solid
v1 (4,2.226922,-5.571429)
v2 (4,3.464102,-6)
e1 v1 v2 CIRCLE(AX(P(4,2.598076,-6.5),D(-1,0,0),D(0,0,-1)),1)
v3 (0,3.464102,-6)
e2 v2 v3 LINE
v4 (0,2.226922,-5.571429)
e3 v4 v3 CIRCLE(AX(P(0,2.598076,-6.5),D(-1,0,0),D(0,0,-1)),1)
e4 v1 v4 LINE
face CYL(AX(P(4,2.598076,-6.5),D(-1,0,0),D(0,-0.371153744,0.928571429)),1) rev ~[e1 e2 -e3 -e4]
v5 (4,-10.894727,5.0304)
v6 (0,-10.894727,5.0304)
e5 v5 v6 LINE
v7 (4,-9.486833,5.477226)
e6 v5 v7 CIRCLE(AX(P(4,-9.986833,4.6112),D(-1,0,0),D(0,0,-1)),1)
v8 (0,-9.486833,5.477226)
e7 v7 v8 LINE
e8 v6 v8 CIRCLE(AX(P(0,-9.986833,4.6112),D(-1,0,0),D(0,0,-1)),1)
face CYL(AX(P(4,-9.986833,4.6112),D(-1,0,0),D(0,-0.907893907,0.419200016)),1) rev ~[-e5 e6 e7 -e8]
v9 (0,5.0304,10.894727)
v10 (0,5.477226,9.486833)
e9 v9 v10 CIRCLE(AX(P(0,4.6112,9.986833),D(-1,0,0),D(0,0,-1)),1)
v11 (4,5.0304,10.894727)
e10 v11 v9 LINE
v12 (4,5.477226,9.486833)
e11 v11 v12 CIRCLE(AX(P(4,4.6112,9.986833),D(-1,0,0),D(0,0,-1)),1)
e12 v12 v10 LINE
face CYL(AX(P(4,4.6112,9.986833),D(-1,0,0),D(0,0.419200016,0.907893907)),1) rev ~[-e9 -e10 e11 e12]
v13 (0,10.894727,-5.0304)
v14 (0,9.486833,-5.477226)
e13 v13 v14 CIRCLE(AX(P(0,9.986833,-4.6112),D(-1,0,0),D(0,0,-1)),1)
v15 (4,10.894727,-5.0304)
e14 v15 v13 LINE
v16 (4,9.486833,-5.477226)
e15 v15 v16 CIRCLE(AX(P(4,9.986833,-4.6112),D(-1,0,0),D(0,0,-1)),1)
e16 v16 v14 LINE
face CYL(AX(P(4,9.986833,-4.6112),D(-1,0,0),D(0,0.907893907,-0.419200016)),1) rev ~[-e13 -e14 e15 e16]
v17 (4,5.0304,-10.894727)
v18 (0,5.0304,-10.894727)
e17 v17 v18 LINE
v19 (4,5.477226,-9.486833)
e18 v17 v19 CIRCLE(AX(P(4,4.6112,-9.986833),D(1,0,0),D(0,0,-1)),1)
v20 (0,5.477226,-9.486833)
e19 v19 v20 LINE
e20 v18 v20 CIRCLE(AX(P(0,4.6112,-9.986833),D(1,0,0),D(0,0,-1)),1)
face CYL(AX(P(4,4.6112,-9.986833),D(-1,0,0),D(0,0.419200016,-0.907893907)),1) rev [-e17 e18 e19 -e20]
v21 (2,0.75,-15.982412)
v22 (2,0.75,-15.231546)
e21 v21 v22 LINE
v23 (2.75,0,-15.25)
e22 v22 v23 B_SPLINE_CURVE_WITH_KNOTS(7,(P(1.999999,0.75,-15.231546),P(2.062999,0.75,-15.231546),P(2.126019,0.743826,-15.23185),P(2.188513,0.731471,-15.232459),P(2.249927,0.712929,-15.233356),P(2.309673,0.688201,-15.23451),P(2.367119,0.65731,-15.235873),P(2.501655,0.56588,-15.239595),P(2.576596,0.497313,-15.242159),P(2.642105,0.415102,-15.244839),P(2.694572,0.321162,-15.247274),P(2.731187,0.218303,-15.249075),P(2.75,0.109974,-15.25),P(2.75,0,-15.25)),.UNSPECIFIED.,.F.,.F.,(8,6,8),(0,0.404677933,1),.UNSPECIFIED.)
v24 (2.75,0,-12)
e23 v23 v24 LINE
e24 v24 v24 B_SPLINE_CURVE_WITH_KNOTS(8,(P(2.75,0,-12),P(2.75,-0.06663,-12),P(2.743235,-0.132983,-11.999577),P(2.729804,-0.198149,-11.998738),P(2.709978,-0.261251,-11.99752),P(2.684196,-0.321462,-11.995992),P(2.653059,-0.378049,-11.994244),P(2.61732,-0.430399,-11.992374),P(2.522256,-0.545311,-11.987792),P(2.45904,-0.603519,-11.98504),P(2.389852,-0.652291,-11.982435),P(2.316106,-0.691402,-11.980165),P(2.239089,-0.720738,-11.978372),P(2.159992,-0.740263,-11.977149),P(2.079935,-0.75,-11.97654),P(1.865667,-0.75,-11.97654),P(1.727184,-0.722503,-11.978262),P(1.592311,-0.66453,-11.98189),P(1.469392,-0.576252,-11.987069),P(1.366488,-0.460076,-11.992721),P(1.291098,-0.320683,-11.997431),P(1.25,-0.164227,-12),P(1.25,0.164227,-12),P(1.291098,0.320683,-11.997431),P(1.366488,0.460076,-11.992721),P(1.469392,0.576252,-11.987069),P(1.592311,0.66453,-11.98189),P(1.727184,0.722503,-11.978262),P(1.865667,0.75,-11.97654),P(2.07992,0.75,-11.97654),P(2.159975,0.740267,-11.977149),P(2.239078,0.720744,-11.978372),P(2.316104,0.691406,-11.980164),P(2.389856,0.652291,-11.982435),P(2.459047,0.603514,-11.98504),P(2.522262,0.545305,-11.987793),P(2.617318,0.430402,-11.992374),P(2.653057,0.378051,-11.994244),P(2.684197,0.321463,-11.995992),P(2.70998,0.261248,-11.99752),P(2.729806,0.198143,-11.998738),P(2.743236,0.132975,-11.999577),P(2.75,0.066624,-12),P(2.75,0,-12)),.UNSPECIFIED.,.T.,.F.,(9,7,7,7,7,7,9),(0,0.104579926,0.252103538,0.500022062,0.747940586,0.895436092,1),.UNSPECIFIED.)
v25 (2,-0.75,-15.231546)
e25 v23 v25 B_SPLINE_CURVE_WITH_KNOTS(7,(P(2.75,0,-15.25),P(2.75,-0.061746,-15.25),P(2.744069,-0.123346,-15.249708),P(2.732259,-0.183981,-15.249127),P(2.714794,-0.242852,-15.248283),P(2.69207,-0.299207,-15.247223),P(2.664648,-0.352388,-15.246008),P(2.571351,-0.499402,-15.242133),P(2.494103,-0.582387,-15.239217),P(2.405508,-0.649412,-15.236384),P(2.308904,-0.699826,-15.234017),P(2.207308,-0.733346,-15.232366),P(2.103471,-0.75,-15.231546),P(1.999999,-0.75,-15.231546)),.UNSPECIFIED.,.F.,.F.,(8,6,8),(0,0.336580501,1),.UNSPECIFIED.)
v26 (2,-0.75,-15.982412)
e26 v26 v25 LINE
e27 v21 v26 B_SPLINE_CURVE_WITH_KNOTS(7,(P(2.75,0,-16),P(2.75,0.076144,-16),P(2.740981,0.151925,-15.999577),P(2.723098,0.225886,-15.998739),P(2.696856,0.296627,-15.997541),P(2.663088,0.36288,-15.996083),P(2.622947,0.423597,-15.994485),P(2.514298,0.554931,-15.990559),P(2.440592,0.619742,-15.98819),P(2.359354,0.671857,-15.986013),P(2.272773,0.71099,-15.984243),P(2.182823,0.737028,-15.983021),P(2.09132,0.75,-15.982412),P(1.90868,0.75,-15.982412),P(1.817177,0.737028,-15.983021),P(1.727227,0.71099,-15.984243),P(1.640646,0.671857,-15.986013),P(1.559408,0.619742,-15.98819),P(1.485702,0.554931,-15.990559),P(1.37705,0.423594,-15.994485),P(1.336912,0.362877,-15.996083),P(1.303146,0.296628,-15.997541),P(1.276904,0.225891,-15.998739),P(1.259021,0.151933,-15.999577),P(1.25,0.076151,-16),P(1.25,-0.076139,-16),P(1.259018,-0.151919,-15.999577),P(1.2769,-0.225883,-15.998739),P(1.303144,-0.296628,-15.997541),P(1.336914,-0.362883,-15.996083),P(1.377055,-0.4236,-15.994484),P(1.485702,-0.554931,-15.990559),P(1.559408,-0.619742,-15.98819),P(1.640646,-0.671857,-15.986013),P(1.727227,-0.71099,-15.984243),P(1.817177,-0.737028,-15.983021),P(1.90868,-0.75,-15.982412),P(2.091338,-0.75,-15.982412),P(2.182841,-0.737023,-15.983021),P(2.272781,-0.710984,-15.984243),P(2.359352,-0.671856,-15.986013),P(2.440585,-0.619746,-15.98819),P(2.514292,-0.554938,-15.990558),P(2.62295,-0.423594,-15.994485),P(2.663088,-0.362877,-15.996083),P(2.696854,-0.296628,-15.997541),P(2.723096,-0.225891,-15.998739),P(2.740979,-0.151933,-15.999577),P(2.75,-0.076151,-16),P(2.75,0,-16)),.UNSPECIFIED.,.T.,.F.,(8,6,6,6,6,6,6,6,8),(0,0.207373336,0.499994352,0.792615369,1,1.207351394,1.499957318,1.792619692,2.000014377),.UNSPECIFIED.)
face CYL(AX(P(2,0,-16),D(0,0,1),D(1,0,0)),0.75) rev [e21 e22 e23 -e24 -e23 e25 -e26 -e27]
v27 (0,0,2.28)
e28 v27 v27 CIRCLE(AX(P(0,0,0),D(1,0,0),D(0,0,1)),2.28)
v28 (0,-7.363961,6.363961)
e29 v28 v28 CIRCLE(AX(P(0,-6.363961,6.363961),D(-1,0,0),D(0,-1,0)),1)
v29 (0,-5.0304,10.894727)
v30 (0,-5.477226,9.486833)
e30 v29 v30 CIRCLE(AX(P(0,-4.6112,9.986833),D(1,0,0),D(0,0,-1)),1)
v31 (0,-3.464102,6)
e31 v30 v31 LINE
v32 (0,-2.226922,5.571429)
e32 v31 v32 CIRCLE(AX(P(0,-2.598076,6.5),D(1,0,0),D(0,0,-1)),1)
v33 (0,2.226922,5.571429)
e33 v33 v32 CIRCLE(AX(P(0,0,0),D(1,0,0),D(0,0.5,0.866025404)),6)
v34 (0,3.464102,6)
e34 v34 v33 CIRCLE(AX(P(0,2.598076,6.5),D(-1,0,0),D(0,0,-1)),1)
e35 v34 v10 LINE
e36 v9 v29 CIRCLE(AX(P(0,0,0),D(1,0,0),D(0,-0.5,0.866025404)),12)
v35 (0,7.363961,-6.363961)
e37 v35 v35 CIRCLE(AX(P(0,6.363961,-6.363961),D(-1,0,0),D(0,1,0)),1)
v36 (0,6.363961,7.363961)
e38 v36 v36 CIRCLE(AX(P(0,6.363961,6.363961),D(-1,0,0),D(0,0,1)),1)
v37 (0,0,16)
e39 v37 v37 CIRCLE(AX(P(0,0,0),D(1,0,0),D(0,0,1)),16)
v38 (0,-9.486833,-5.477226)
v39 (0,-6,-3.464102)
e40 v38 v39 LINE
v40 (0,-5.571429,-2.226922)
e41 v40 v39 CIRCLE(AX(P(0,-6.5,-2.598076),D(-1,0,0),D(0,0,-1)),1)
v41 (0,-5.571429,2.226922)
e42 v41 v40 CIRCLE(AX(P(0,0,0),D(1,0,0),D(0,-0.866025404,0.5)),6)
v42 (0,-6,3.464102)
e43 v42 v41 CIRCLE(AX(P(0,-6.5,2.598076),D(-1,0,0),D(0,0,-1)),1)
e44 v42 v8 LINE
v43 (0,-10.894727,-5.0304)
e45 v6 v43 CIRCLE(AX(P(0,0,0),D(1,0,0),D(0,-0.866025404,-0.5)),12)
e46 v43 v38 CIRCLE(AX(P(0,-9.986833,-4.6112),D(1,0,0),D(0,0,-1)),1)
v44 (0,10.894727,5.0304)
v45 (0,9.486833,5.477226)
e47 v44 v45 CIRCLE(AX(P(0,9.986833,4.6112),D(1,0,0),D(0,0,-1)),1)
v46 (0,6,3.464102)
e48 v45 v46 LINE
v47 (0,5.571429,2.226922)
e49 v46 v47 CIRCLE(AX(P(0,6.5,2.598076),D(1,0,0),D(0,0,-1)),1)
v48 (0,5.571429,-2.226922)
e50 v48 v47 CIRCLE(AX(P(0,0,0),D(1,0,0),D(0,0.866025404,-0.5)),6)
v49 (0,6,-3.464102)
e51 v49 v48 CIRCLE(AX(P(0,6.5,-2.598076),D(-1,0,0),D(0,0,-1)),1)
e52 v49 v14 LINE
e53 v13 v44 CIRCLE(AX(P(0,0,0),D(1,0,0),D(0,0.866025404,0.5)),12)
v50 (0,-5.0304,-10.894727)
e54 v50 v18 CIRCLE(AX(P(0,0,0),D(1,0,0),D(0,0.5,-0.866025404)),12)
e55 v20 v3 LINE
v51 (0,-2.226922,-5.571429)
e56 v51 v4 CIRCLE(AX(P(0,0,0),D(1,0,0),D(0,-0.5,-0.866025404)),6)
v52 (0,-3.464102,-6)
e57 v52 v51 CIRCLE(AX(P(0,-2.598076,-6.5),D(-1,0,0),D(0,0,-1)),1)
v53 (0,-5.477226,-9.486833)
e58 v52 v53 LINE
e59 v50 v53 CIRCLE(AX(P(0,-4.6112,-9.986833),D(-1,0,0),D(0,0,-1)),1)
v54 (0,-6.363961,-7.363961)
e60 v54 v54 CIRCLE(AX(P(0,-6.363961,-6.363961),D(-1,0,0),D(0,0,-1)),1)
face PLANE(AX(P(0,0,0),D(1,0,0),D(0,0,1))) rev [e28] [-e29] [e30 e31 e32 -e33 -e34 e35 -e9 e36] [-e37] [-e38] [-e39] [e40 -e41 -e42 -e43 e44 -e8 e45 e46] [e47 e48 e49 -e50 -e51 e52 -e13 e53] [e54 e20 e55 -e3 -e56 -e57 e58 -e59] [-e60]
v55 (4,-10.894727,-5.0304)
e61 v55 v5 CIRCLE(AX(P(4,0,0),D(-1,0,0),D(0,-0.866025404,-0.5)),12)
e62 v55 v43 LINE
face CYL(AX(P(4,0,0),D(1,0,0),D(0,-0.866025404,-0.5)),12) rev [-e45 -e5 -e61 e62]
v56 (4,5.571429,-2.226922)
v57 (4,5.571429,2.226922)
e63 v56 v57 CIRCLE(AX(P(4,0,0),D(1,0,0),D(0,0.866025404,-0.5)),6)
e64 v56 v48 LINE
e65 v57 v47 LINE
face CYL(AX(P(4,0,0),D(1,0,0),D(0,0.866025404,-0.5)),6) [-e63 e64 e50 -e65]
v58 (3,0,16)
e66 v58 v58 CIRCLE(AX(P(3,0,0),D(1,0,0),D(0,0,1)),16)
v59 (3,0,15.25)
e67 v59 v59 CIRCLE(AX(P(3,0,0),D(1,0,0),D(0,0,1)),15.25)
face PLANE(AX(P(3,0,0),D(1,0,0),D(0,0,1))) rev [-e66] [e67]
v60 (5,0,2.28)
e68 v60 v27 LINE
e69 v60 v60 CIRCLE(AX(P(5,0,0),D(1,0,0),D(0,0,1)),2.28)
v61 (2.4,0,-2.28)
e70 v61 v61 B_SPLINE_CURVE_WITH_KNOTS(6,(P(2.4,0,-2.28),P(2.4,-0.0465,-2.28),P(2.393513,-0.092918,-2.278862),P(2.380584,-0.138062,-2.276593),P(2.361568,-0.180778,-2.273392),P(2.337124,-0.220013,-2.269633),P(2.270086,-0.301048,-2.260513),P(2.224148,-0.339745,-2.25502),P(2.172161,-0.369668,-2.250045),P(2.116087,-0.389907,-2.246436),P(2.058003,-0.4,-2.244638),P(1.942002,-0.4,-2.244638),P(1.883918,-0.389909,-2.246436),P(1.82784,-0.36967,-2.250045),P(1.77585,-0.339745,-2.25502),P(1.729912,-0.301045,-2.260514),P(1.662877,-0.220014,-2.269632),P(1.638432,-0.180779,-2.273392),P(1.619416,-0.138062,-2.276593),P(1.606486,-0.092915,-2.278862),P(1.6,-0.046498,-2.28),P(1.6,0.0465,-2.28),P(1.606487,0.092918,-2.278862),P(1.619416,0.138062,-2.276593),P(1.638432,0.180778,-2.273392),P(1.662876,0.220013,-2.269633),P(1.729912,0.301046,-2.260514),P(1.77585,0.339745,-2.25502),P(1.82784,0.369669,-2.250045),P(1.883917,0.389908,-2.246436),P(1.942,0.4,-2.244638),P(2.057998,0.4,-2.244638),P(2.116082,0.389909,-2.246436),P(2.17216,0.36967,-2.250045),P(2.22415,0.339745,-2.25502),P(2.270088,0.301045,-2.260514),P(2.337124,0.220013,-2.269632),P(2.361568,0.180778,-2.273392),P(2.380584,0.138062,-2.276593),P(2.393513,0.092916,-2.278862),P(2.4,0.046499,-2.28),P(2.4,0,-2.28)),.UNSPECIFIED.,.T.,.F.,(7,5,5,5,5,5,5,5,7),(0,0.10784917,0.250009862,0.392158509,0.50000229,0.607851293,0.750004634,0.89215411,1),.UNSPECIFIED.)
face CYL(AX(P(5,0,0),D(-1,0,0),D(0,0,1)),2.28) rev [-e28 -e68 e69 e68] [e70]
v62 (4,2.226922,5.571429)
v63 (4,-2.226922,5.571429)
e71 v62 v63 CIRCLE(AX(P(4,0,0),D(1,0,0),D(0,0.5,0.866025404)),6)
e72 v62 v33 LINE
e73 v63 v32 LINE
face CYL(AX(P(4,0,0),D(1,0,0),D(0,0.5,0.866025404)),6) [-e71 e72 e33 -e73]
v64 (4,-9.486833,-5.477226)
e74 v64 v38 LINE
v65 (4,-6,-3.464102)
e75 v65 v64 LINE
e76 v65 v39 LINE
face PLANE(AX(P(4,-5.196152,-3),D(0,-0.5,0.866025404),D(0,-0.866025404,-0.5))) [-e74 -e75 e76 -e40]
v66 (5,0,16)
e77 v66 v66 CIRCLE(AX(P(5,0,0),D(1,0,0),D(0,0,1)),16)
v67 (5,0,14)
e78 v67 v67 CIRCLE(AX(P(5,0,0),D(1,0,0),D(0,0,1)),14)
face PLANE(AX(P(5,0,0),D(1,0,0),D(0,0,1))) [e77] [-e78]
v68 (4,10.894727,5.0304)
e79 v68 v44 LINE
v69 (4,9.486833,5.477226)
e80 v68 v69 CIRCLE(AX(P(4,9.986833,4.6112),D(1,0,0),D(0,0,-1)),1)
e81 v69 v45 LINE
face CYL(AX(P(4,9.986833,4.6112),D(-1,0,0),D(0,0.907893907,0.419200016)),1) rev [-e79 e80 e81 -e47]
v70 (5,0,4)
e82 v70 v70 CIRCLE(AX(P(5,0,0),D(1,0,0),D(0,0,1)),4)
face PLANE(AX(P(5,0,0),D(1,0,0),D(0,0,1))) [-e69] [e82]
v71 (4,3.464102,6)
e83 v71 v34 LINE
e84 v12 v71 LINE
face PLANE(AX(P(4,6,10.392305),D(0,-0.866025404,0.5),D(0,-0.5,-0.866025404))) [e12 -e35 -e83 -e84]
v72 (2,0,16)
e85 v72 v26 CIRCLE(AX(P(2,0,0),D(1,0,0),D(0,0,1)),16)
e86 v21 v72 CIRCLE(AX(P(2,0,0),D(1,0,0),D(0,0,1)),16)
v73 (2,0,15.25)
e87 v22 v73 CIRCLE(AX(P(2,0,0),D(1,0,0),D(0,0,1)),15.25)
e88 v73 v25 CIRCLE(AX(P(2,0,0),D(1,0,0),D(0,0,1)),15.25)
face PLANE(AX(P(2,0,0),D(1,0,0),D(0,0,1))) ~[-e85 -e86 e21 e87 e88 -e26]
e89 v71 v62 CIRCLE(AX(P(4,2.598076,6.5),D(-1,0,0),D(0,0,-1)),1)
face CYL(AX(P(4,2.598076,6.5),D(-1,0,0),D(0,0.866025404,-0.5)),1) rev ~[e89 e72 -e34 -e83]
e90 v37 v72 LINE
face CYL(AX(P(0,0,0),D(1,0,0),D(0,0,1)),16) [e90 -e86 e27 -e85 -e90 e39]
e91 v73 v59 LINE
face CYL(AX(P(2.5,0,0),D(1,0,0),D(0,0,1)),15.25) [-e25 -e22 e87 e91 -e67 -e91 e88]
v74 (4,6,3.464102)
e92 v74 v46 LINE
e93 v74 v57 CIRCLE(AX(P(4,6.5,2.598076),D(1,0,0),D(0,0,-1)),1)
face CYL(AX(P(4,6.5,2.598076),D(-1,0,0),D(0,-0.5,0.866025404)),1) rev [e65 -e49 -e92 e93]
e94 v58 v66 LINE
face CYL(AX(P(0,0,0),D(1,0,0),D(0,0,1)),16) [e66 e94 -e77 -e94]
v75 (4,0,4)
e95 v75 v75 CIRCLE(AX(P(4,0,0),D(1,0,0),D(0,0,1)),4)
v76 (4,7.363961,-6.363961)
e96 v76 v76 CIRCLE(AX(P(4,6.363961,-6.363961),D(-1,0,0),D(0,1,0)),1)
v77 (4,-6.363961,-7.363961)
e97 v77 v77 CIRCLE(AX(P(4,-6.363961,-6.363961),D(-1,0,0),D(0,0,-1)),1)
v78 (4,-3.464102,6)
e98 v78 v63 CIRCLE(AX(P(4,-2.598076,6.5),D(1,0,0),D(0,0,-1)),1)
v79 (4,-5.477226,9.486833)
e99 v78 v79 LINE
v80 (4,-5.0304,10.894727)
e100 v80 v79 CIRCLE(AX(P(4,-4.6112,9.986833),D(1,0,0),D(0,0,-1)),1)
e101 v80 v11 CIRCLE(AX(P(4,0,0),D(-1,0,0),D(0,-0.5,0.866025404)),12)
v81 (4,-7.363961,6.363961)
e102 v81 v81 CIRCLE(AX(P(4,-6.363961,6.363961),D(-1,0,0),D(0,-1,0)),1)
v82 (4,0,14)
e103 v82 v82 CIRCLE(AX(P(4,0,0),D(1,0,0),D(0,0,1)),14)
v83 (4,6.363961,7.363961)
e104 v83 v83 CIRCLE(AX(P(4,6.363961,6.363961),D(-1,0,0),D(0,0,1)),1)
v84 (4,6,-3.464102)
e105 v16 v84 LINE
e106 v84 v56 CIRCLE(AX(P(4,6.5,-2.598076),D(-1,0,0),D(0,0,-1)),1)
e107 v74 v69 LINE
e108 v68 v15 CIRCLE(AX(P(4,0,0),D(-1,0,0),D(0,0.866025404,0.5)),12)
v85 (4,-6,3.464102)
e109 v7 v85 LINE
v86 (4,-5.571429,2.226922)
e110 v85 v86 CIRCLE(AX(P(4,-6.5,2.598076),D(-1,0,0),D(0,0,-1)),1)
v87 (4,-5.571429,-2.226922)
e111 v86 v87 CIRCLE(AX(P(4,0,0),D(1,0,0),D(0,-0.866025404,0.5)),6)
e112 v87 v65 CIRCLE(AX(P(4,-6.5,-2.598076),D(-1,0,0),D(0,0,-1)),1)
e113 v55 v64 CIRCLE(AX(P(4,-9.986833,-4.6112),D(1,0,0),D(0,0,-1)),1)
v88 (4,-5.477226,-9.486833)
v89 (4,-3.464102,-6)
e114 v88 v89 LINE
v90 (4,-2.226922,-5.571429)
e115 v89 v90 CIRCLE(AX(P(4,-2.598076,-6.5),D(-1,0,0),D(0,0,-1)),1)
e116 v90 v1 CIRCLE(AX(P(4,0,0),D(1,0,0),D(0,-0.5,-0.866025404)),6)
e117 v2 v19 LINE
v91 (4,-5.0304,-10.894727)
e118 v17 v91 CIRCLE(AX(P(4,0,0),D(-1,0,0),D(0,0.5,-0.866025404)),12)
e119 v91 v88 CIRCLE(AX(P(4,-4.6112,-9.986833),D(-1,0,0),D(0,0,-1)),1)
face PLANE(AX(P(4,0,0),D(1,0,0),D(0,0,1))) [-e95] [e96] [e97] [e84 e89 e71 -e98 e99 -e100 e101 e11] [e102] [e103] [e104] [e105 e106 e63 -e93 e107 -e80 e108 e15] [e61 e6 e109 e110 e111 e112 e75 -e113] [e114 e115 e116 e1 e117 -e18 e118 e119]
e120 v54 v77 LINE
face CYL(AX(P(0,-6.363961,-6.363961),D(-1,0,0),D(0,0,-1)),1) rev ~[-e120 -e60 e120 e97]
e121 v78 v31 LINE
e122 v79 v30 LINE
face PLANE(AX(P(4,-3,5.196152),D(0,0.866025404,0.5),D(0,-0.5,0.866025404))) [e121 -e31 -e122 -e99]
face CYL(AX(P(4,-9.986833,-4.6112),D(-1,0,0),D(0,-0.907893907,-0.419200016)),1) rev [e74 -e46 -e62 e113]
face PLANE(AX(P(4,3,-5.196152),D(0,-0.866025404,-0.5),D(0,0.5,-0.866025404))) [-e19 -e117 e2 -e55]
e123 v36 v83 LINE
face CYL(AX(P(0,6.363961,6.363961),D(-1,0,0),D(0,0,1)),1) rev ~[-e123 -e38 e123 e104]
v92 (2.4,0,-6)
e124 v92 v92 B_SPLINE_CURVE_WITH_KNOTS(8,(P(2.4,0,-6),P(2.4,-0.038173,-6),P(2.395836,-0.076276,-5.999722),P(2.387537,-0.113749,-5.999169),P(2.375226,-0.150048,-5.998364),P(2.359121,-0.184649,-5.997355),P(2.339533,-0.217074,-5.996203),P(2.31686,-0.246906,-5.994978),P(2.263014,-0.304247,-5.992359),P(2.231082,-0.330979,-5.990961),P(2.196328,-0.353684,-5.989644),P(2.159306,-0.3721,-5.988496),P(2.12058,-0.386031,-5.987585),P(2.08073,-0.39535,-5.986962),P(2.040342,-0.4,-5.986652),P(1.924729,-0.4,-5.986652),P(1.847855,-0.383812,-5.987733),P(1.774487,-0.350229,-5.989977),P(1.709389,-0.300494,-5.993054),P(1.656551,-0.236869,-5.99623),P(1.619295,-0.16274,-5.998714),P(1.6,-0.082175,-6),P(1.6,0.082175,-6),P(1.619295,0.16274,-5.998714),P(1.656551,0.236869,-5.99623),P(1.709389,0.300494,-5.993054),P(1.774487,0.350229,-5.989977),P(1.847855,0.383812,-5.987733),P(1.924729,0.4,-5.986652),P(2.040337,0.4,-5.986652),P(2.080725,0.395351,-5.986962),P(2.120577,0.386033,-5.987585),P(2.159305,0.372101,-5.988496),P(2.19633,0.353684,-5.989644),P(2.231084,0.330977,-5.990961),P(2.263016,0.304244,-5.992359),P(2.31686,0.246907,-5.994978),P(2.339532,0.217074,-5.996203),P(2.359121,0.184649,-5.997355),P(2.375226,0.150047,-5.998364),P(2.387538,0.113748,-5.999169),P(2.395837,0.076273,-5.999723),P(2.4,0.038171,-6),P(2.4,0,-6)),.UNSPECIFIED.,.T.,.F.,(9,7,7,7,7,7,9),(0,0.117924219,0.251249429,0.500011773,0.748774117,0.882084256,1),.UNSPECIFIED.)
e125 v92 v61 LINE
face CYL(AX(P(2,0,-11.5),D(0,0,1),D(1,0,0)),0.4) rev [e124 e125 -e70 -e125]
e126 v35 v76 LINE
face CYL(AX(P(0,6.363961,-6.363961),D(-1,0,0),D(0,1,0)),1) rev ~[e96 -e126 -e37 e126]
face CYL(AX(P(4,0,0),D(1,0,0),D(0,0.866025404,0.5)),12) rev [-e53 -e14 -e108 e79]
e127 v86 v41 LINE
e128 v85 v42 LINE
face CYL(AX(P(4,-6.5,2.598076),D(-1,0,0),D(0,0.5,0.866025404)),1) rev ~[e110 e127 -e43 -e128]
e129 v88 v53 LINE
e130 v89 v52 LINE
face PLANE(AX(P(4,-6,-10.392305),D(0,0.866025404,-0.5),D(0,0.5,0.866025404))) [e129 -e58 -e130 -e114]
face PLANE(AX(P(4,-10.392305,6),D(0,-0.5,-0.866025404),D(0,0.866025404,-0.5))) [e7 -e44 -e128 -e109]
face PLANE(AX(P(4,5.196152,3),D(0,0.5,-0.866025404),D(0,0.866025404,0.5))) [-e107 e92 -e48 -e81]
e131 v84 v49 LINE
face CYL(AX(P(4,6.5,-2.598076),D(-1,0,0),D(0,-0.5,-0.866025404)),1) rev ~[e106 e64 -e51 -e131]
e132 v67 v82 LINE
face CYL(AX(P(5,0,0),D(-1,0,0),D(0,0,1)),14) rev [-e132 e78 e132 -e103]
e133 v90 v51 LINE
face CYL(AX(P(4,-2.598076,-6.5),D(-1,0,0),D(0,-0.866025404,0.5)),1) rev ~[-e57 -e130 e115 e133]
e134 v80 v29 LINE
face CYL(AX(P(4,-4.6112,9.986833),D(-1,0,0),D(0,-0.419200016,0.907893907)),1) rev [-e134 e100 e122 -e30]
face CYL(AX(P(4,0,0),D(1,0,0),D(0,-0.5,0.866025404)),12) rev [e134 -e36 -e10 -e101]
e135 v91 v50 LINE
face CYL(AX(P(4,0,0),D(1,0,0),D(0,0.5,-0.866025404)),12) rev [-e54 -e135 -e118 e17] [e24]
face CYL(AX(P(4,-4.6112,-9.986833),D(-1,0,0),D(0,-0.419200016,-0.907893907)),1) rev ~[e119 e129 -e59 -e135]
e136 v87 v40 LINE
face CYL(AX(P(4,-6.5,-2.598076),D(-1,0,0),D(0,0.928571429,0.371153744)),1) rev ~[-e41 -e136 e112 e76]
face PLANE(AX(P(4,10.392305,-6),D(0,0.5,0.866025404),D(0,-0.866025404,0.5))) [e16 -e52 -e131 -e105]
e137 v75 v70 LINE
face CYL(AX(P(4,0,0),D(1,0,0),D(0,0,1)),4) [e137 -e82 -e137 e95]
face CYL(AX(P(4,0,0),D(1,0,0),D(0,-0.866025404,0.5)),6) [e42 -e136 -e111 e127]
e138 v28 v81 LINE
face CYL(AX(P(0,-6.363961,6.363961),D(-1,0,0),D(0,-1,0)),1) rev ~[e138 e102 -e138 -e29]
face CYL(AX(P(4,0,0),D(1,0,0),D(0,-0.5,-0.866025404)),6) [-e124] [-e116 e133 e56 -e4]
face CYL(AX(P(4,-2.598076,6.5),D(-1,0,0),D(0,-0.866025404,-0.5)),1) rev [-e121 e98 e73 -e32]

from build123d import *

# Parameters (mm, degrees)
CUT_EXTRUDE1_DEPTH       = 23.978250743
FILLET1_R                = 1
CIRPATTERN1_COUNT        = 4
FILLET1_OF_CIRPATTERN1_R = 1
SKETCH4_W                = 1
SKETCH4_H                = 0.75
SKETCH9_R                = 1
CUT_EXTRUDE4_DEPTH       = 24.173260612
CIRPATTERN3_COUNT        = 4


with BuildPart() as part:
    # Sketch1 → Revolve1 (revolve)
    with BuildSketch(Plane(origin=(0, 0, 0), x_dir=(1, 0, 0), z_dir=(0, 1, 0)), mode=Mode.PRIVATE) as revolve1_sk:
        Polygon((0, 2.28), (0, 16), (5, 16), (5, 14), (4, 14), (4, 4), (5, 4), (5, 2.28), align=None)
    revolve(revolve1_sk.sketch.rotate(Axis((0, 0, 0), (1, 0, 0)), 180), axis=Axis((0, 0, 0), (1, 0, 0)))

    # Sketch2 → Cut-Revolve1 (revolve, cut)
    with BuildSketch(Plane(origin=(0, 0, 0), x_dir=(1, 0, 0), z_dir=(0, 1, 0))):
        Polygon((2, 0), (2, 16), (2.75, 16), (2.75, 11.5), (2.4, 11.5), (2.4, 0), align=None)
    revolve(axis=Axis((2, 0, 0), (0, 0, -1)), mode=Mode.SUBTRACT)

    # Sketch3 → Cut-Extrude1 (cut, through all)
    with BuildSketch(Plane(origin=(4, 0, 0), x_dir=(0, 0, -1), z_dir=(1, 0, 0))):
        with BuildLine():
            Line((5.196152423, 3), (10.392304845, 6))
            ThreePointArc((10.392304845, 6), (12, 0), (10.392304845, -6))
            Line((10.392304845, -6), (5.196152423, -3))
            ThreePointArc((5.196152423, -3), (6, 0), (5.196152423, 3))
        make_face()
    cut_extrude1 = extrude(amount=-CUT_EXTRUDE1_DEPTH, mode=Mode.SUBTRACT)

    # Fillet1
    fillet1_edges = [part.edges().sort_by_distance(p)[0] for p in [
        (2, -3, -5.196152423),
        (2, 6, -10.392304845),
        (2, -6, -10.392304845),
        (2, 3, -5.196152423),
    ]]
    fillet(fillet1_edges, radius=FILLET1_R)

    # CirPattern1: Cut-Extrude1 ×4 about axis
    cirpattern1_axis = Axis((0, 0, 0), (1, 0, 0))
    for i in range(1, CIRPATTERN1_COUNT):
        add(cut_extrude1.rotate(cirpattern1_axis, i * 360 / CIRPATTERN1_COUNT), mode=Mode.SUBTRACT)

    # Fillet1 of CirPattern1
    fillet1_of_cirpattern1_edges = [part.edges().sort_by_distance(p)[0] for p in [
        (2, 5.196152423, -3),
        (2, 10.392304845, 6),
        (2, 10.392304845, -6),
        (2, 5.196152423, 3),
        (2, 3, 5.196152423),
        (2, -6, 10.392304845),
        (2, 6, 10.392304845),
        (2, -3, 5.196152423),
        (2, -5.196152423, 3),
        (2, -10.392304845, -6),
        (2, -10.392304845, 6),
        (2, -5.196152423, -3),
    ]]
    fillet(fillet1_of_cirpattern1_edges, radius=FILLET1_OF_CIRPATTERN1_R)

    # Sketch4 → Cut-Revolve2 (revolve, cut)
    with BuildSketch(Plane(origin=(0, 0, 0), x_dir=(1, 0, 0), z_dir=(0, 1, 0)), mode=Mode.PRIVATE) as cut_revolve2_sk:
        with Locations((2.5, 15.625)):
            Rectangle(SKETCH4_W, SKETCH4_H)
    revolve(cut_revolve2_sk.sketch.rotate(Axis((0, 0, 0), (1, 0, 0)), 180), axis=Axis((0, 0, 0), (1, 0, 0)), mode=Mode.SUBTRACT)

    # Sketch9 → Cut-Extrude4 (cut, through all)
    with BuildSketch(Plane.ZY):
        with Locations((6.363961031, 6.363961031)):
            Circle(SKETCH9_R)
    cut_extrude4 = extrude(amount=-CUT_EXTRUDE4_DEPTH, mode=Mode.SUBTRACT)

    # CirPattern3: Cut-Extrude4 ×4 about axis
    cirpattern3_axis = Axis((0, 0, 0), (1, 0, 0))
    for i in range(1, CIRPATTERN3_COUNT):
        add(cut_extrude4.rotate(cirpattern3_axis, i * 360 / CIRPATTERN3_COUNT), mode=Mode.SUBTRACT)


solid = part.part
